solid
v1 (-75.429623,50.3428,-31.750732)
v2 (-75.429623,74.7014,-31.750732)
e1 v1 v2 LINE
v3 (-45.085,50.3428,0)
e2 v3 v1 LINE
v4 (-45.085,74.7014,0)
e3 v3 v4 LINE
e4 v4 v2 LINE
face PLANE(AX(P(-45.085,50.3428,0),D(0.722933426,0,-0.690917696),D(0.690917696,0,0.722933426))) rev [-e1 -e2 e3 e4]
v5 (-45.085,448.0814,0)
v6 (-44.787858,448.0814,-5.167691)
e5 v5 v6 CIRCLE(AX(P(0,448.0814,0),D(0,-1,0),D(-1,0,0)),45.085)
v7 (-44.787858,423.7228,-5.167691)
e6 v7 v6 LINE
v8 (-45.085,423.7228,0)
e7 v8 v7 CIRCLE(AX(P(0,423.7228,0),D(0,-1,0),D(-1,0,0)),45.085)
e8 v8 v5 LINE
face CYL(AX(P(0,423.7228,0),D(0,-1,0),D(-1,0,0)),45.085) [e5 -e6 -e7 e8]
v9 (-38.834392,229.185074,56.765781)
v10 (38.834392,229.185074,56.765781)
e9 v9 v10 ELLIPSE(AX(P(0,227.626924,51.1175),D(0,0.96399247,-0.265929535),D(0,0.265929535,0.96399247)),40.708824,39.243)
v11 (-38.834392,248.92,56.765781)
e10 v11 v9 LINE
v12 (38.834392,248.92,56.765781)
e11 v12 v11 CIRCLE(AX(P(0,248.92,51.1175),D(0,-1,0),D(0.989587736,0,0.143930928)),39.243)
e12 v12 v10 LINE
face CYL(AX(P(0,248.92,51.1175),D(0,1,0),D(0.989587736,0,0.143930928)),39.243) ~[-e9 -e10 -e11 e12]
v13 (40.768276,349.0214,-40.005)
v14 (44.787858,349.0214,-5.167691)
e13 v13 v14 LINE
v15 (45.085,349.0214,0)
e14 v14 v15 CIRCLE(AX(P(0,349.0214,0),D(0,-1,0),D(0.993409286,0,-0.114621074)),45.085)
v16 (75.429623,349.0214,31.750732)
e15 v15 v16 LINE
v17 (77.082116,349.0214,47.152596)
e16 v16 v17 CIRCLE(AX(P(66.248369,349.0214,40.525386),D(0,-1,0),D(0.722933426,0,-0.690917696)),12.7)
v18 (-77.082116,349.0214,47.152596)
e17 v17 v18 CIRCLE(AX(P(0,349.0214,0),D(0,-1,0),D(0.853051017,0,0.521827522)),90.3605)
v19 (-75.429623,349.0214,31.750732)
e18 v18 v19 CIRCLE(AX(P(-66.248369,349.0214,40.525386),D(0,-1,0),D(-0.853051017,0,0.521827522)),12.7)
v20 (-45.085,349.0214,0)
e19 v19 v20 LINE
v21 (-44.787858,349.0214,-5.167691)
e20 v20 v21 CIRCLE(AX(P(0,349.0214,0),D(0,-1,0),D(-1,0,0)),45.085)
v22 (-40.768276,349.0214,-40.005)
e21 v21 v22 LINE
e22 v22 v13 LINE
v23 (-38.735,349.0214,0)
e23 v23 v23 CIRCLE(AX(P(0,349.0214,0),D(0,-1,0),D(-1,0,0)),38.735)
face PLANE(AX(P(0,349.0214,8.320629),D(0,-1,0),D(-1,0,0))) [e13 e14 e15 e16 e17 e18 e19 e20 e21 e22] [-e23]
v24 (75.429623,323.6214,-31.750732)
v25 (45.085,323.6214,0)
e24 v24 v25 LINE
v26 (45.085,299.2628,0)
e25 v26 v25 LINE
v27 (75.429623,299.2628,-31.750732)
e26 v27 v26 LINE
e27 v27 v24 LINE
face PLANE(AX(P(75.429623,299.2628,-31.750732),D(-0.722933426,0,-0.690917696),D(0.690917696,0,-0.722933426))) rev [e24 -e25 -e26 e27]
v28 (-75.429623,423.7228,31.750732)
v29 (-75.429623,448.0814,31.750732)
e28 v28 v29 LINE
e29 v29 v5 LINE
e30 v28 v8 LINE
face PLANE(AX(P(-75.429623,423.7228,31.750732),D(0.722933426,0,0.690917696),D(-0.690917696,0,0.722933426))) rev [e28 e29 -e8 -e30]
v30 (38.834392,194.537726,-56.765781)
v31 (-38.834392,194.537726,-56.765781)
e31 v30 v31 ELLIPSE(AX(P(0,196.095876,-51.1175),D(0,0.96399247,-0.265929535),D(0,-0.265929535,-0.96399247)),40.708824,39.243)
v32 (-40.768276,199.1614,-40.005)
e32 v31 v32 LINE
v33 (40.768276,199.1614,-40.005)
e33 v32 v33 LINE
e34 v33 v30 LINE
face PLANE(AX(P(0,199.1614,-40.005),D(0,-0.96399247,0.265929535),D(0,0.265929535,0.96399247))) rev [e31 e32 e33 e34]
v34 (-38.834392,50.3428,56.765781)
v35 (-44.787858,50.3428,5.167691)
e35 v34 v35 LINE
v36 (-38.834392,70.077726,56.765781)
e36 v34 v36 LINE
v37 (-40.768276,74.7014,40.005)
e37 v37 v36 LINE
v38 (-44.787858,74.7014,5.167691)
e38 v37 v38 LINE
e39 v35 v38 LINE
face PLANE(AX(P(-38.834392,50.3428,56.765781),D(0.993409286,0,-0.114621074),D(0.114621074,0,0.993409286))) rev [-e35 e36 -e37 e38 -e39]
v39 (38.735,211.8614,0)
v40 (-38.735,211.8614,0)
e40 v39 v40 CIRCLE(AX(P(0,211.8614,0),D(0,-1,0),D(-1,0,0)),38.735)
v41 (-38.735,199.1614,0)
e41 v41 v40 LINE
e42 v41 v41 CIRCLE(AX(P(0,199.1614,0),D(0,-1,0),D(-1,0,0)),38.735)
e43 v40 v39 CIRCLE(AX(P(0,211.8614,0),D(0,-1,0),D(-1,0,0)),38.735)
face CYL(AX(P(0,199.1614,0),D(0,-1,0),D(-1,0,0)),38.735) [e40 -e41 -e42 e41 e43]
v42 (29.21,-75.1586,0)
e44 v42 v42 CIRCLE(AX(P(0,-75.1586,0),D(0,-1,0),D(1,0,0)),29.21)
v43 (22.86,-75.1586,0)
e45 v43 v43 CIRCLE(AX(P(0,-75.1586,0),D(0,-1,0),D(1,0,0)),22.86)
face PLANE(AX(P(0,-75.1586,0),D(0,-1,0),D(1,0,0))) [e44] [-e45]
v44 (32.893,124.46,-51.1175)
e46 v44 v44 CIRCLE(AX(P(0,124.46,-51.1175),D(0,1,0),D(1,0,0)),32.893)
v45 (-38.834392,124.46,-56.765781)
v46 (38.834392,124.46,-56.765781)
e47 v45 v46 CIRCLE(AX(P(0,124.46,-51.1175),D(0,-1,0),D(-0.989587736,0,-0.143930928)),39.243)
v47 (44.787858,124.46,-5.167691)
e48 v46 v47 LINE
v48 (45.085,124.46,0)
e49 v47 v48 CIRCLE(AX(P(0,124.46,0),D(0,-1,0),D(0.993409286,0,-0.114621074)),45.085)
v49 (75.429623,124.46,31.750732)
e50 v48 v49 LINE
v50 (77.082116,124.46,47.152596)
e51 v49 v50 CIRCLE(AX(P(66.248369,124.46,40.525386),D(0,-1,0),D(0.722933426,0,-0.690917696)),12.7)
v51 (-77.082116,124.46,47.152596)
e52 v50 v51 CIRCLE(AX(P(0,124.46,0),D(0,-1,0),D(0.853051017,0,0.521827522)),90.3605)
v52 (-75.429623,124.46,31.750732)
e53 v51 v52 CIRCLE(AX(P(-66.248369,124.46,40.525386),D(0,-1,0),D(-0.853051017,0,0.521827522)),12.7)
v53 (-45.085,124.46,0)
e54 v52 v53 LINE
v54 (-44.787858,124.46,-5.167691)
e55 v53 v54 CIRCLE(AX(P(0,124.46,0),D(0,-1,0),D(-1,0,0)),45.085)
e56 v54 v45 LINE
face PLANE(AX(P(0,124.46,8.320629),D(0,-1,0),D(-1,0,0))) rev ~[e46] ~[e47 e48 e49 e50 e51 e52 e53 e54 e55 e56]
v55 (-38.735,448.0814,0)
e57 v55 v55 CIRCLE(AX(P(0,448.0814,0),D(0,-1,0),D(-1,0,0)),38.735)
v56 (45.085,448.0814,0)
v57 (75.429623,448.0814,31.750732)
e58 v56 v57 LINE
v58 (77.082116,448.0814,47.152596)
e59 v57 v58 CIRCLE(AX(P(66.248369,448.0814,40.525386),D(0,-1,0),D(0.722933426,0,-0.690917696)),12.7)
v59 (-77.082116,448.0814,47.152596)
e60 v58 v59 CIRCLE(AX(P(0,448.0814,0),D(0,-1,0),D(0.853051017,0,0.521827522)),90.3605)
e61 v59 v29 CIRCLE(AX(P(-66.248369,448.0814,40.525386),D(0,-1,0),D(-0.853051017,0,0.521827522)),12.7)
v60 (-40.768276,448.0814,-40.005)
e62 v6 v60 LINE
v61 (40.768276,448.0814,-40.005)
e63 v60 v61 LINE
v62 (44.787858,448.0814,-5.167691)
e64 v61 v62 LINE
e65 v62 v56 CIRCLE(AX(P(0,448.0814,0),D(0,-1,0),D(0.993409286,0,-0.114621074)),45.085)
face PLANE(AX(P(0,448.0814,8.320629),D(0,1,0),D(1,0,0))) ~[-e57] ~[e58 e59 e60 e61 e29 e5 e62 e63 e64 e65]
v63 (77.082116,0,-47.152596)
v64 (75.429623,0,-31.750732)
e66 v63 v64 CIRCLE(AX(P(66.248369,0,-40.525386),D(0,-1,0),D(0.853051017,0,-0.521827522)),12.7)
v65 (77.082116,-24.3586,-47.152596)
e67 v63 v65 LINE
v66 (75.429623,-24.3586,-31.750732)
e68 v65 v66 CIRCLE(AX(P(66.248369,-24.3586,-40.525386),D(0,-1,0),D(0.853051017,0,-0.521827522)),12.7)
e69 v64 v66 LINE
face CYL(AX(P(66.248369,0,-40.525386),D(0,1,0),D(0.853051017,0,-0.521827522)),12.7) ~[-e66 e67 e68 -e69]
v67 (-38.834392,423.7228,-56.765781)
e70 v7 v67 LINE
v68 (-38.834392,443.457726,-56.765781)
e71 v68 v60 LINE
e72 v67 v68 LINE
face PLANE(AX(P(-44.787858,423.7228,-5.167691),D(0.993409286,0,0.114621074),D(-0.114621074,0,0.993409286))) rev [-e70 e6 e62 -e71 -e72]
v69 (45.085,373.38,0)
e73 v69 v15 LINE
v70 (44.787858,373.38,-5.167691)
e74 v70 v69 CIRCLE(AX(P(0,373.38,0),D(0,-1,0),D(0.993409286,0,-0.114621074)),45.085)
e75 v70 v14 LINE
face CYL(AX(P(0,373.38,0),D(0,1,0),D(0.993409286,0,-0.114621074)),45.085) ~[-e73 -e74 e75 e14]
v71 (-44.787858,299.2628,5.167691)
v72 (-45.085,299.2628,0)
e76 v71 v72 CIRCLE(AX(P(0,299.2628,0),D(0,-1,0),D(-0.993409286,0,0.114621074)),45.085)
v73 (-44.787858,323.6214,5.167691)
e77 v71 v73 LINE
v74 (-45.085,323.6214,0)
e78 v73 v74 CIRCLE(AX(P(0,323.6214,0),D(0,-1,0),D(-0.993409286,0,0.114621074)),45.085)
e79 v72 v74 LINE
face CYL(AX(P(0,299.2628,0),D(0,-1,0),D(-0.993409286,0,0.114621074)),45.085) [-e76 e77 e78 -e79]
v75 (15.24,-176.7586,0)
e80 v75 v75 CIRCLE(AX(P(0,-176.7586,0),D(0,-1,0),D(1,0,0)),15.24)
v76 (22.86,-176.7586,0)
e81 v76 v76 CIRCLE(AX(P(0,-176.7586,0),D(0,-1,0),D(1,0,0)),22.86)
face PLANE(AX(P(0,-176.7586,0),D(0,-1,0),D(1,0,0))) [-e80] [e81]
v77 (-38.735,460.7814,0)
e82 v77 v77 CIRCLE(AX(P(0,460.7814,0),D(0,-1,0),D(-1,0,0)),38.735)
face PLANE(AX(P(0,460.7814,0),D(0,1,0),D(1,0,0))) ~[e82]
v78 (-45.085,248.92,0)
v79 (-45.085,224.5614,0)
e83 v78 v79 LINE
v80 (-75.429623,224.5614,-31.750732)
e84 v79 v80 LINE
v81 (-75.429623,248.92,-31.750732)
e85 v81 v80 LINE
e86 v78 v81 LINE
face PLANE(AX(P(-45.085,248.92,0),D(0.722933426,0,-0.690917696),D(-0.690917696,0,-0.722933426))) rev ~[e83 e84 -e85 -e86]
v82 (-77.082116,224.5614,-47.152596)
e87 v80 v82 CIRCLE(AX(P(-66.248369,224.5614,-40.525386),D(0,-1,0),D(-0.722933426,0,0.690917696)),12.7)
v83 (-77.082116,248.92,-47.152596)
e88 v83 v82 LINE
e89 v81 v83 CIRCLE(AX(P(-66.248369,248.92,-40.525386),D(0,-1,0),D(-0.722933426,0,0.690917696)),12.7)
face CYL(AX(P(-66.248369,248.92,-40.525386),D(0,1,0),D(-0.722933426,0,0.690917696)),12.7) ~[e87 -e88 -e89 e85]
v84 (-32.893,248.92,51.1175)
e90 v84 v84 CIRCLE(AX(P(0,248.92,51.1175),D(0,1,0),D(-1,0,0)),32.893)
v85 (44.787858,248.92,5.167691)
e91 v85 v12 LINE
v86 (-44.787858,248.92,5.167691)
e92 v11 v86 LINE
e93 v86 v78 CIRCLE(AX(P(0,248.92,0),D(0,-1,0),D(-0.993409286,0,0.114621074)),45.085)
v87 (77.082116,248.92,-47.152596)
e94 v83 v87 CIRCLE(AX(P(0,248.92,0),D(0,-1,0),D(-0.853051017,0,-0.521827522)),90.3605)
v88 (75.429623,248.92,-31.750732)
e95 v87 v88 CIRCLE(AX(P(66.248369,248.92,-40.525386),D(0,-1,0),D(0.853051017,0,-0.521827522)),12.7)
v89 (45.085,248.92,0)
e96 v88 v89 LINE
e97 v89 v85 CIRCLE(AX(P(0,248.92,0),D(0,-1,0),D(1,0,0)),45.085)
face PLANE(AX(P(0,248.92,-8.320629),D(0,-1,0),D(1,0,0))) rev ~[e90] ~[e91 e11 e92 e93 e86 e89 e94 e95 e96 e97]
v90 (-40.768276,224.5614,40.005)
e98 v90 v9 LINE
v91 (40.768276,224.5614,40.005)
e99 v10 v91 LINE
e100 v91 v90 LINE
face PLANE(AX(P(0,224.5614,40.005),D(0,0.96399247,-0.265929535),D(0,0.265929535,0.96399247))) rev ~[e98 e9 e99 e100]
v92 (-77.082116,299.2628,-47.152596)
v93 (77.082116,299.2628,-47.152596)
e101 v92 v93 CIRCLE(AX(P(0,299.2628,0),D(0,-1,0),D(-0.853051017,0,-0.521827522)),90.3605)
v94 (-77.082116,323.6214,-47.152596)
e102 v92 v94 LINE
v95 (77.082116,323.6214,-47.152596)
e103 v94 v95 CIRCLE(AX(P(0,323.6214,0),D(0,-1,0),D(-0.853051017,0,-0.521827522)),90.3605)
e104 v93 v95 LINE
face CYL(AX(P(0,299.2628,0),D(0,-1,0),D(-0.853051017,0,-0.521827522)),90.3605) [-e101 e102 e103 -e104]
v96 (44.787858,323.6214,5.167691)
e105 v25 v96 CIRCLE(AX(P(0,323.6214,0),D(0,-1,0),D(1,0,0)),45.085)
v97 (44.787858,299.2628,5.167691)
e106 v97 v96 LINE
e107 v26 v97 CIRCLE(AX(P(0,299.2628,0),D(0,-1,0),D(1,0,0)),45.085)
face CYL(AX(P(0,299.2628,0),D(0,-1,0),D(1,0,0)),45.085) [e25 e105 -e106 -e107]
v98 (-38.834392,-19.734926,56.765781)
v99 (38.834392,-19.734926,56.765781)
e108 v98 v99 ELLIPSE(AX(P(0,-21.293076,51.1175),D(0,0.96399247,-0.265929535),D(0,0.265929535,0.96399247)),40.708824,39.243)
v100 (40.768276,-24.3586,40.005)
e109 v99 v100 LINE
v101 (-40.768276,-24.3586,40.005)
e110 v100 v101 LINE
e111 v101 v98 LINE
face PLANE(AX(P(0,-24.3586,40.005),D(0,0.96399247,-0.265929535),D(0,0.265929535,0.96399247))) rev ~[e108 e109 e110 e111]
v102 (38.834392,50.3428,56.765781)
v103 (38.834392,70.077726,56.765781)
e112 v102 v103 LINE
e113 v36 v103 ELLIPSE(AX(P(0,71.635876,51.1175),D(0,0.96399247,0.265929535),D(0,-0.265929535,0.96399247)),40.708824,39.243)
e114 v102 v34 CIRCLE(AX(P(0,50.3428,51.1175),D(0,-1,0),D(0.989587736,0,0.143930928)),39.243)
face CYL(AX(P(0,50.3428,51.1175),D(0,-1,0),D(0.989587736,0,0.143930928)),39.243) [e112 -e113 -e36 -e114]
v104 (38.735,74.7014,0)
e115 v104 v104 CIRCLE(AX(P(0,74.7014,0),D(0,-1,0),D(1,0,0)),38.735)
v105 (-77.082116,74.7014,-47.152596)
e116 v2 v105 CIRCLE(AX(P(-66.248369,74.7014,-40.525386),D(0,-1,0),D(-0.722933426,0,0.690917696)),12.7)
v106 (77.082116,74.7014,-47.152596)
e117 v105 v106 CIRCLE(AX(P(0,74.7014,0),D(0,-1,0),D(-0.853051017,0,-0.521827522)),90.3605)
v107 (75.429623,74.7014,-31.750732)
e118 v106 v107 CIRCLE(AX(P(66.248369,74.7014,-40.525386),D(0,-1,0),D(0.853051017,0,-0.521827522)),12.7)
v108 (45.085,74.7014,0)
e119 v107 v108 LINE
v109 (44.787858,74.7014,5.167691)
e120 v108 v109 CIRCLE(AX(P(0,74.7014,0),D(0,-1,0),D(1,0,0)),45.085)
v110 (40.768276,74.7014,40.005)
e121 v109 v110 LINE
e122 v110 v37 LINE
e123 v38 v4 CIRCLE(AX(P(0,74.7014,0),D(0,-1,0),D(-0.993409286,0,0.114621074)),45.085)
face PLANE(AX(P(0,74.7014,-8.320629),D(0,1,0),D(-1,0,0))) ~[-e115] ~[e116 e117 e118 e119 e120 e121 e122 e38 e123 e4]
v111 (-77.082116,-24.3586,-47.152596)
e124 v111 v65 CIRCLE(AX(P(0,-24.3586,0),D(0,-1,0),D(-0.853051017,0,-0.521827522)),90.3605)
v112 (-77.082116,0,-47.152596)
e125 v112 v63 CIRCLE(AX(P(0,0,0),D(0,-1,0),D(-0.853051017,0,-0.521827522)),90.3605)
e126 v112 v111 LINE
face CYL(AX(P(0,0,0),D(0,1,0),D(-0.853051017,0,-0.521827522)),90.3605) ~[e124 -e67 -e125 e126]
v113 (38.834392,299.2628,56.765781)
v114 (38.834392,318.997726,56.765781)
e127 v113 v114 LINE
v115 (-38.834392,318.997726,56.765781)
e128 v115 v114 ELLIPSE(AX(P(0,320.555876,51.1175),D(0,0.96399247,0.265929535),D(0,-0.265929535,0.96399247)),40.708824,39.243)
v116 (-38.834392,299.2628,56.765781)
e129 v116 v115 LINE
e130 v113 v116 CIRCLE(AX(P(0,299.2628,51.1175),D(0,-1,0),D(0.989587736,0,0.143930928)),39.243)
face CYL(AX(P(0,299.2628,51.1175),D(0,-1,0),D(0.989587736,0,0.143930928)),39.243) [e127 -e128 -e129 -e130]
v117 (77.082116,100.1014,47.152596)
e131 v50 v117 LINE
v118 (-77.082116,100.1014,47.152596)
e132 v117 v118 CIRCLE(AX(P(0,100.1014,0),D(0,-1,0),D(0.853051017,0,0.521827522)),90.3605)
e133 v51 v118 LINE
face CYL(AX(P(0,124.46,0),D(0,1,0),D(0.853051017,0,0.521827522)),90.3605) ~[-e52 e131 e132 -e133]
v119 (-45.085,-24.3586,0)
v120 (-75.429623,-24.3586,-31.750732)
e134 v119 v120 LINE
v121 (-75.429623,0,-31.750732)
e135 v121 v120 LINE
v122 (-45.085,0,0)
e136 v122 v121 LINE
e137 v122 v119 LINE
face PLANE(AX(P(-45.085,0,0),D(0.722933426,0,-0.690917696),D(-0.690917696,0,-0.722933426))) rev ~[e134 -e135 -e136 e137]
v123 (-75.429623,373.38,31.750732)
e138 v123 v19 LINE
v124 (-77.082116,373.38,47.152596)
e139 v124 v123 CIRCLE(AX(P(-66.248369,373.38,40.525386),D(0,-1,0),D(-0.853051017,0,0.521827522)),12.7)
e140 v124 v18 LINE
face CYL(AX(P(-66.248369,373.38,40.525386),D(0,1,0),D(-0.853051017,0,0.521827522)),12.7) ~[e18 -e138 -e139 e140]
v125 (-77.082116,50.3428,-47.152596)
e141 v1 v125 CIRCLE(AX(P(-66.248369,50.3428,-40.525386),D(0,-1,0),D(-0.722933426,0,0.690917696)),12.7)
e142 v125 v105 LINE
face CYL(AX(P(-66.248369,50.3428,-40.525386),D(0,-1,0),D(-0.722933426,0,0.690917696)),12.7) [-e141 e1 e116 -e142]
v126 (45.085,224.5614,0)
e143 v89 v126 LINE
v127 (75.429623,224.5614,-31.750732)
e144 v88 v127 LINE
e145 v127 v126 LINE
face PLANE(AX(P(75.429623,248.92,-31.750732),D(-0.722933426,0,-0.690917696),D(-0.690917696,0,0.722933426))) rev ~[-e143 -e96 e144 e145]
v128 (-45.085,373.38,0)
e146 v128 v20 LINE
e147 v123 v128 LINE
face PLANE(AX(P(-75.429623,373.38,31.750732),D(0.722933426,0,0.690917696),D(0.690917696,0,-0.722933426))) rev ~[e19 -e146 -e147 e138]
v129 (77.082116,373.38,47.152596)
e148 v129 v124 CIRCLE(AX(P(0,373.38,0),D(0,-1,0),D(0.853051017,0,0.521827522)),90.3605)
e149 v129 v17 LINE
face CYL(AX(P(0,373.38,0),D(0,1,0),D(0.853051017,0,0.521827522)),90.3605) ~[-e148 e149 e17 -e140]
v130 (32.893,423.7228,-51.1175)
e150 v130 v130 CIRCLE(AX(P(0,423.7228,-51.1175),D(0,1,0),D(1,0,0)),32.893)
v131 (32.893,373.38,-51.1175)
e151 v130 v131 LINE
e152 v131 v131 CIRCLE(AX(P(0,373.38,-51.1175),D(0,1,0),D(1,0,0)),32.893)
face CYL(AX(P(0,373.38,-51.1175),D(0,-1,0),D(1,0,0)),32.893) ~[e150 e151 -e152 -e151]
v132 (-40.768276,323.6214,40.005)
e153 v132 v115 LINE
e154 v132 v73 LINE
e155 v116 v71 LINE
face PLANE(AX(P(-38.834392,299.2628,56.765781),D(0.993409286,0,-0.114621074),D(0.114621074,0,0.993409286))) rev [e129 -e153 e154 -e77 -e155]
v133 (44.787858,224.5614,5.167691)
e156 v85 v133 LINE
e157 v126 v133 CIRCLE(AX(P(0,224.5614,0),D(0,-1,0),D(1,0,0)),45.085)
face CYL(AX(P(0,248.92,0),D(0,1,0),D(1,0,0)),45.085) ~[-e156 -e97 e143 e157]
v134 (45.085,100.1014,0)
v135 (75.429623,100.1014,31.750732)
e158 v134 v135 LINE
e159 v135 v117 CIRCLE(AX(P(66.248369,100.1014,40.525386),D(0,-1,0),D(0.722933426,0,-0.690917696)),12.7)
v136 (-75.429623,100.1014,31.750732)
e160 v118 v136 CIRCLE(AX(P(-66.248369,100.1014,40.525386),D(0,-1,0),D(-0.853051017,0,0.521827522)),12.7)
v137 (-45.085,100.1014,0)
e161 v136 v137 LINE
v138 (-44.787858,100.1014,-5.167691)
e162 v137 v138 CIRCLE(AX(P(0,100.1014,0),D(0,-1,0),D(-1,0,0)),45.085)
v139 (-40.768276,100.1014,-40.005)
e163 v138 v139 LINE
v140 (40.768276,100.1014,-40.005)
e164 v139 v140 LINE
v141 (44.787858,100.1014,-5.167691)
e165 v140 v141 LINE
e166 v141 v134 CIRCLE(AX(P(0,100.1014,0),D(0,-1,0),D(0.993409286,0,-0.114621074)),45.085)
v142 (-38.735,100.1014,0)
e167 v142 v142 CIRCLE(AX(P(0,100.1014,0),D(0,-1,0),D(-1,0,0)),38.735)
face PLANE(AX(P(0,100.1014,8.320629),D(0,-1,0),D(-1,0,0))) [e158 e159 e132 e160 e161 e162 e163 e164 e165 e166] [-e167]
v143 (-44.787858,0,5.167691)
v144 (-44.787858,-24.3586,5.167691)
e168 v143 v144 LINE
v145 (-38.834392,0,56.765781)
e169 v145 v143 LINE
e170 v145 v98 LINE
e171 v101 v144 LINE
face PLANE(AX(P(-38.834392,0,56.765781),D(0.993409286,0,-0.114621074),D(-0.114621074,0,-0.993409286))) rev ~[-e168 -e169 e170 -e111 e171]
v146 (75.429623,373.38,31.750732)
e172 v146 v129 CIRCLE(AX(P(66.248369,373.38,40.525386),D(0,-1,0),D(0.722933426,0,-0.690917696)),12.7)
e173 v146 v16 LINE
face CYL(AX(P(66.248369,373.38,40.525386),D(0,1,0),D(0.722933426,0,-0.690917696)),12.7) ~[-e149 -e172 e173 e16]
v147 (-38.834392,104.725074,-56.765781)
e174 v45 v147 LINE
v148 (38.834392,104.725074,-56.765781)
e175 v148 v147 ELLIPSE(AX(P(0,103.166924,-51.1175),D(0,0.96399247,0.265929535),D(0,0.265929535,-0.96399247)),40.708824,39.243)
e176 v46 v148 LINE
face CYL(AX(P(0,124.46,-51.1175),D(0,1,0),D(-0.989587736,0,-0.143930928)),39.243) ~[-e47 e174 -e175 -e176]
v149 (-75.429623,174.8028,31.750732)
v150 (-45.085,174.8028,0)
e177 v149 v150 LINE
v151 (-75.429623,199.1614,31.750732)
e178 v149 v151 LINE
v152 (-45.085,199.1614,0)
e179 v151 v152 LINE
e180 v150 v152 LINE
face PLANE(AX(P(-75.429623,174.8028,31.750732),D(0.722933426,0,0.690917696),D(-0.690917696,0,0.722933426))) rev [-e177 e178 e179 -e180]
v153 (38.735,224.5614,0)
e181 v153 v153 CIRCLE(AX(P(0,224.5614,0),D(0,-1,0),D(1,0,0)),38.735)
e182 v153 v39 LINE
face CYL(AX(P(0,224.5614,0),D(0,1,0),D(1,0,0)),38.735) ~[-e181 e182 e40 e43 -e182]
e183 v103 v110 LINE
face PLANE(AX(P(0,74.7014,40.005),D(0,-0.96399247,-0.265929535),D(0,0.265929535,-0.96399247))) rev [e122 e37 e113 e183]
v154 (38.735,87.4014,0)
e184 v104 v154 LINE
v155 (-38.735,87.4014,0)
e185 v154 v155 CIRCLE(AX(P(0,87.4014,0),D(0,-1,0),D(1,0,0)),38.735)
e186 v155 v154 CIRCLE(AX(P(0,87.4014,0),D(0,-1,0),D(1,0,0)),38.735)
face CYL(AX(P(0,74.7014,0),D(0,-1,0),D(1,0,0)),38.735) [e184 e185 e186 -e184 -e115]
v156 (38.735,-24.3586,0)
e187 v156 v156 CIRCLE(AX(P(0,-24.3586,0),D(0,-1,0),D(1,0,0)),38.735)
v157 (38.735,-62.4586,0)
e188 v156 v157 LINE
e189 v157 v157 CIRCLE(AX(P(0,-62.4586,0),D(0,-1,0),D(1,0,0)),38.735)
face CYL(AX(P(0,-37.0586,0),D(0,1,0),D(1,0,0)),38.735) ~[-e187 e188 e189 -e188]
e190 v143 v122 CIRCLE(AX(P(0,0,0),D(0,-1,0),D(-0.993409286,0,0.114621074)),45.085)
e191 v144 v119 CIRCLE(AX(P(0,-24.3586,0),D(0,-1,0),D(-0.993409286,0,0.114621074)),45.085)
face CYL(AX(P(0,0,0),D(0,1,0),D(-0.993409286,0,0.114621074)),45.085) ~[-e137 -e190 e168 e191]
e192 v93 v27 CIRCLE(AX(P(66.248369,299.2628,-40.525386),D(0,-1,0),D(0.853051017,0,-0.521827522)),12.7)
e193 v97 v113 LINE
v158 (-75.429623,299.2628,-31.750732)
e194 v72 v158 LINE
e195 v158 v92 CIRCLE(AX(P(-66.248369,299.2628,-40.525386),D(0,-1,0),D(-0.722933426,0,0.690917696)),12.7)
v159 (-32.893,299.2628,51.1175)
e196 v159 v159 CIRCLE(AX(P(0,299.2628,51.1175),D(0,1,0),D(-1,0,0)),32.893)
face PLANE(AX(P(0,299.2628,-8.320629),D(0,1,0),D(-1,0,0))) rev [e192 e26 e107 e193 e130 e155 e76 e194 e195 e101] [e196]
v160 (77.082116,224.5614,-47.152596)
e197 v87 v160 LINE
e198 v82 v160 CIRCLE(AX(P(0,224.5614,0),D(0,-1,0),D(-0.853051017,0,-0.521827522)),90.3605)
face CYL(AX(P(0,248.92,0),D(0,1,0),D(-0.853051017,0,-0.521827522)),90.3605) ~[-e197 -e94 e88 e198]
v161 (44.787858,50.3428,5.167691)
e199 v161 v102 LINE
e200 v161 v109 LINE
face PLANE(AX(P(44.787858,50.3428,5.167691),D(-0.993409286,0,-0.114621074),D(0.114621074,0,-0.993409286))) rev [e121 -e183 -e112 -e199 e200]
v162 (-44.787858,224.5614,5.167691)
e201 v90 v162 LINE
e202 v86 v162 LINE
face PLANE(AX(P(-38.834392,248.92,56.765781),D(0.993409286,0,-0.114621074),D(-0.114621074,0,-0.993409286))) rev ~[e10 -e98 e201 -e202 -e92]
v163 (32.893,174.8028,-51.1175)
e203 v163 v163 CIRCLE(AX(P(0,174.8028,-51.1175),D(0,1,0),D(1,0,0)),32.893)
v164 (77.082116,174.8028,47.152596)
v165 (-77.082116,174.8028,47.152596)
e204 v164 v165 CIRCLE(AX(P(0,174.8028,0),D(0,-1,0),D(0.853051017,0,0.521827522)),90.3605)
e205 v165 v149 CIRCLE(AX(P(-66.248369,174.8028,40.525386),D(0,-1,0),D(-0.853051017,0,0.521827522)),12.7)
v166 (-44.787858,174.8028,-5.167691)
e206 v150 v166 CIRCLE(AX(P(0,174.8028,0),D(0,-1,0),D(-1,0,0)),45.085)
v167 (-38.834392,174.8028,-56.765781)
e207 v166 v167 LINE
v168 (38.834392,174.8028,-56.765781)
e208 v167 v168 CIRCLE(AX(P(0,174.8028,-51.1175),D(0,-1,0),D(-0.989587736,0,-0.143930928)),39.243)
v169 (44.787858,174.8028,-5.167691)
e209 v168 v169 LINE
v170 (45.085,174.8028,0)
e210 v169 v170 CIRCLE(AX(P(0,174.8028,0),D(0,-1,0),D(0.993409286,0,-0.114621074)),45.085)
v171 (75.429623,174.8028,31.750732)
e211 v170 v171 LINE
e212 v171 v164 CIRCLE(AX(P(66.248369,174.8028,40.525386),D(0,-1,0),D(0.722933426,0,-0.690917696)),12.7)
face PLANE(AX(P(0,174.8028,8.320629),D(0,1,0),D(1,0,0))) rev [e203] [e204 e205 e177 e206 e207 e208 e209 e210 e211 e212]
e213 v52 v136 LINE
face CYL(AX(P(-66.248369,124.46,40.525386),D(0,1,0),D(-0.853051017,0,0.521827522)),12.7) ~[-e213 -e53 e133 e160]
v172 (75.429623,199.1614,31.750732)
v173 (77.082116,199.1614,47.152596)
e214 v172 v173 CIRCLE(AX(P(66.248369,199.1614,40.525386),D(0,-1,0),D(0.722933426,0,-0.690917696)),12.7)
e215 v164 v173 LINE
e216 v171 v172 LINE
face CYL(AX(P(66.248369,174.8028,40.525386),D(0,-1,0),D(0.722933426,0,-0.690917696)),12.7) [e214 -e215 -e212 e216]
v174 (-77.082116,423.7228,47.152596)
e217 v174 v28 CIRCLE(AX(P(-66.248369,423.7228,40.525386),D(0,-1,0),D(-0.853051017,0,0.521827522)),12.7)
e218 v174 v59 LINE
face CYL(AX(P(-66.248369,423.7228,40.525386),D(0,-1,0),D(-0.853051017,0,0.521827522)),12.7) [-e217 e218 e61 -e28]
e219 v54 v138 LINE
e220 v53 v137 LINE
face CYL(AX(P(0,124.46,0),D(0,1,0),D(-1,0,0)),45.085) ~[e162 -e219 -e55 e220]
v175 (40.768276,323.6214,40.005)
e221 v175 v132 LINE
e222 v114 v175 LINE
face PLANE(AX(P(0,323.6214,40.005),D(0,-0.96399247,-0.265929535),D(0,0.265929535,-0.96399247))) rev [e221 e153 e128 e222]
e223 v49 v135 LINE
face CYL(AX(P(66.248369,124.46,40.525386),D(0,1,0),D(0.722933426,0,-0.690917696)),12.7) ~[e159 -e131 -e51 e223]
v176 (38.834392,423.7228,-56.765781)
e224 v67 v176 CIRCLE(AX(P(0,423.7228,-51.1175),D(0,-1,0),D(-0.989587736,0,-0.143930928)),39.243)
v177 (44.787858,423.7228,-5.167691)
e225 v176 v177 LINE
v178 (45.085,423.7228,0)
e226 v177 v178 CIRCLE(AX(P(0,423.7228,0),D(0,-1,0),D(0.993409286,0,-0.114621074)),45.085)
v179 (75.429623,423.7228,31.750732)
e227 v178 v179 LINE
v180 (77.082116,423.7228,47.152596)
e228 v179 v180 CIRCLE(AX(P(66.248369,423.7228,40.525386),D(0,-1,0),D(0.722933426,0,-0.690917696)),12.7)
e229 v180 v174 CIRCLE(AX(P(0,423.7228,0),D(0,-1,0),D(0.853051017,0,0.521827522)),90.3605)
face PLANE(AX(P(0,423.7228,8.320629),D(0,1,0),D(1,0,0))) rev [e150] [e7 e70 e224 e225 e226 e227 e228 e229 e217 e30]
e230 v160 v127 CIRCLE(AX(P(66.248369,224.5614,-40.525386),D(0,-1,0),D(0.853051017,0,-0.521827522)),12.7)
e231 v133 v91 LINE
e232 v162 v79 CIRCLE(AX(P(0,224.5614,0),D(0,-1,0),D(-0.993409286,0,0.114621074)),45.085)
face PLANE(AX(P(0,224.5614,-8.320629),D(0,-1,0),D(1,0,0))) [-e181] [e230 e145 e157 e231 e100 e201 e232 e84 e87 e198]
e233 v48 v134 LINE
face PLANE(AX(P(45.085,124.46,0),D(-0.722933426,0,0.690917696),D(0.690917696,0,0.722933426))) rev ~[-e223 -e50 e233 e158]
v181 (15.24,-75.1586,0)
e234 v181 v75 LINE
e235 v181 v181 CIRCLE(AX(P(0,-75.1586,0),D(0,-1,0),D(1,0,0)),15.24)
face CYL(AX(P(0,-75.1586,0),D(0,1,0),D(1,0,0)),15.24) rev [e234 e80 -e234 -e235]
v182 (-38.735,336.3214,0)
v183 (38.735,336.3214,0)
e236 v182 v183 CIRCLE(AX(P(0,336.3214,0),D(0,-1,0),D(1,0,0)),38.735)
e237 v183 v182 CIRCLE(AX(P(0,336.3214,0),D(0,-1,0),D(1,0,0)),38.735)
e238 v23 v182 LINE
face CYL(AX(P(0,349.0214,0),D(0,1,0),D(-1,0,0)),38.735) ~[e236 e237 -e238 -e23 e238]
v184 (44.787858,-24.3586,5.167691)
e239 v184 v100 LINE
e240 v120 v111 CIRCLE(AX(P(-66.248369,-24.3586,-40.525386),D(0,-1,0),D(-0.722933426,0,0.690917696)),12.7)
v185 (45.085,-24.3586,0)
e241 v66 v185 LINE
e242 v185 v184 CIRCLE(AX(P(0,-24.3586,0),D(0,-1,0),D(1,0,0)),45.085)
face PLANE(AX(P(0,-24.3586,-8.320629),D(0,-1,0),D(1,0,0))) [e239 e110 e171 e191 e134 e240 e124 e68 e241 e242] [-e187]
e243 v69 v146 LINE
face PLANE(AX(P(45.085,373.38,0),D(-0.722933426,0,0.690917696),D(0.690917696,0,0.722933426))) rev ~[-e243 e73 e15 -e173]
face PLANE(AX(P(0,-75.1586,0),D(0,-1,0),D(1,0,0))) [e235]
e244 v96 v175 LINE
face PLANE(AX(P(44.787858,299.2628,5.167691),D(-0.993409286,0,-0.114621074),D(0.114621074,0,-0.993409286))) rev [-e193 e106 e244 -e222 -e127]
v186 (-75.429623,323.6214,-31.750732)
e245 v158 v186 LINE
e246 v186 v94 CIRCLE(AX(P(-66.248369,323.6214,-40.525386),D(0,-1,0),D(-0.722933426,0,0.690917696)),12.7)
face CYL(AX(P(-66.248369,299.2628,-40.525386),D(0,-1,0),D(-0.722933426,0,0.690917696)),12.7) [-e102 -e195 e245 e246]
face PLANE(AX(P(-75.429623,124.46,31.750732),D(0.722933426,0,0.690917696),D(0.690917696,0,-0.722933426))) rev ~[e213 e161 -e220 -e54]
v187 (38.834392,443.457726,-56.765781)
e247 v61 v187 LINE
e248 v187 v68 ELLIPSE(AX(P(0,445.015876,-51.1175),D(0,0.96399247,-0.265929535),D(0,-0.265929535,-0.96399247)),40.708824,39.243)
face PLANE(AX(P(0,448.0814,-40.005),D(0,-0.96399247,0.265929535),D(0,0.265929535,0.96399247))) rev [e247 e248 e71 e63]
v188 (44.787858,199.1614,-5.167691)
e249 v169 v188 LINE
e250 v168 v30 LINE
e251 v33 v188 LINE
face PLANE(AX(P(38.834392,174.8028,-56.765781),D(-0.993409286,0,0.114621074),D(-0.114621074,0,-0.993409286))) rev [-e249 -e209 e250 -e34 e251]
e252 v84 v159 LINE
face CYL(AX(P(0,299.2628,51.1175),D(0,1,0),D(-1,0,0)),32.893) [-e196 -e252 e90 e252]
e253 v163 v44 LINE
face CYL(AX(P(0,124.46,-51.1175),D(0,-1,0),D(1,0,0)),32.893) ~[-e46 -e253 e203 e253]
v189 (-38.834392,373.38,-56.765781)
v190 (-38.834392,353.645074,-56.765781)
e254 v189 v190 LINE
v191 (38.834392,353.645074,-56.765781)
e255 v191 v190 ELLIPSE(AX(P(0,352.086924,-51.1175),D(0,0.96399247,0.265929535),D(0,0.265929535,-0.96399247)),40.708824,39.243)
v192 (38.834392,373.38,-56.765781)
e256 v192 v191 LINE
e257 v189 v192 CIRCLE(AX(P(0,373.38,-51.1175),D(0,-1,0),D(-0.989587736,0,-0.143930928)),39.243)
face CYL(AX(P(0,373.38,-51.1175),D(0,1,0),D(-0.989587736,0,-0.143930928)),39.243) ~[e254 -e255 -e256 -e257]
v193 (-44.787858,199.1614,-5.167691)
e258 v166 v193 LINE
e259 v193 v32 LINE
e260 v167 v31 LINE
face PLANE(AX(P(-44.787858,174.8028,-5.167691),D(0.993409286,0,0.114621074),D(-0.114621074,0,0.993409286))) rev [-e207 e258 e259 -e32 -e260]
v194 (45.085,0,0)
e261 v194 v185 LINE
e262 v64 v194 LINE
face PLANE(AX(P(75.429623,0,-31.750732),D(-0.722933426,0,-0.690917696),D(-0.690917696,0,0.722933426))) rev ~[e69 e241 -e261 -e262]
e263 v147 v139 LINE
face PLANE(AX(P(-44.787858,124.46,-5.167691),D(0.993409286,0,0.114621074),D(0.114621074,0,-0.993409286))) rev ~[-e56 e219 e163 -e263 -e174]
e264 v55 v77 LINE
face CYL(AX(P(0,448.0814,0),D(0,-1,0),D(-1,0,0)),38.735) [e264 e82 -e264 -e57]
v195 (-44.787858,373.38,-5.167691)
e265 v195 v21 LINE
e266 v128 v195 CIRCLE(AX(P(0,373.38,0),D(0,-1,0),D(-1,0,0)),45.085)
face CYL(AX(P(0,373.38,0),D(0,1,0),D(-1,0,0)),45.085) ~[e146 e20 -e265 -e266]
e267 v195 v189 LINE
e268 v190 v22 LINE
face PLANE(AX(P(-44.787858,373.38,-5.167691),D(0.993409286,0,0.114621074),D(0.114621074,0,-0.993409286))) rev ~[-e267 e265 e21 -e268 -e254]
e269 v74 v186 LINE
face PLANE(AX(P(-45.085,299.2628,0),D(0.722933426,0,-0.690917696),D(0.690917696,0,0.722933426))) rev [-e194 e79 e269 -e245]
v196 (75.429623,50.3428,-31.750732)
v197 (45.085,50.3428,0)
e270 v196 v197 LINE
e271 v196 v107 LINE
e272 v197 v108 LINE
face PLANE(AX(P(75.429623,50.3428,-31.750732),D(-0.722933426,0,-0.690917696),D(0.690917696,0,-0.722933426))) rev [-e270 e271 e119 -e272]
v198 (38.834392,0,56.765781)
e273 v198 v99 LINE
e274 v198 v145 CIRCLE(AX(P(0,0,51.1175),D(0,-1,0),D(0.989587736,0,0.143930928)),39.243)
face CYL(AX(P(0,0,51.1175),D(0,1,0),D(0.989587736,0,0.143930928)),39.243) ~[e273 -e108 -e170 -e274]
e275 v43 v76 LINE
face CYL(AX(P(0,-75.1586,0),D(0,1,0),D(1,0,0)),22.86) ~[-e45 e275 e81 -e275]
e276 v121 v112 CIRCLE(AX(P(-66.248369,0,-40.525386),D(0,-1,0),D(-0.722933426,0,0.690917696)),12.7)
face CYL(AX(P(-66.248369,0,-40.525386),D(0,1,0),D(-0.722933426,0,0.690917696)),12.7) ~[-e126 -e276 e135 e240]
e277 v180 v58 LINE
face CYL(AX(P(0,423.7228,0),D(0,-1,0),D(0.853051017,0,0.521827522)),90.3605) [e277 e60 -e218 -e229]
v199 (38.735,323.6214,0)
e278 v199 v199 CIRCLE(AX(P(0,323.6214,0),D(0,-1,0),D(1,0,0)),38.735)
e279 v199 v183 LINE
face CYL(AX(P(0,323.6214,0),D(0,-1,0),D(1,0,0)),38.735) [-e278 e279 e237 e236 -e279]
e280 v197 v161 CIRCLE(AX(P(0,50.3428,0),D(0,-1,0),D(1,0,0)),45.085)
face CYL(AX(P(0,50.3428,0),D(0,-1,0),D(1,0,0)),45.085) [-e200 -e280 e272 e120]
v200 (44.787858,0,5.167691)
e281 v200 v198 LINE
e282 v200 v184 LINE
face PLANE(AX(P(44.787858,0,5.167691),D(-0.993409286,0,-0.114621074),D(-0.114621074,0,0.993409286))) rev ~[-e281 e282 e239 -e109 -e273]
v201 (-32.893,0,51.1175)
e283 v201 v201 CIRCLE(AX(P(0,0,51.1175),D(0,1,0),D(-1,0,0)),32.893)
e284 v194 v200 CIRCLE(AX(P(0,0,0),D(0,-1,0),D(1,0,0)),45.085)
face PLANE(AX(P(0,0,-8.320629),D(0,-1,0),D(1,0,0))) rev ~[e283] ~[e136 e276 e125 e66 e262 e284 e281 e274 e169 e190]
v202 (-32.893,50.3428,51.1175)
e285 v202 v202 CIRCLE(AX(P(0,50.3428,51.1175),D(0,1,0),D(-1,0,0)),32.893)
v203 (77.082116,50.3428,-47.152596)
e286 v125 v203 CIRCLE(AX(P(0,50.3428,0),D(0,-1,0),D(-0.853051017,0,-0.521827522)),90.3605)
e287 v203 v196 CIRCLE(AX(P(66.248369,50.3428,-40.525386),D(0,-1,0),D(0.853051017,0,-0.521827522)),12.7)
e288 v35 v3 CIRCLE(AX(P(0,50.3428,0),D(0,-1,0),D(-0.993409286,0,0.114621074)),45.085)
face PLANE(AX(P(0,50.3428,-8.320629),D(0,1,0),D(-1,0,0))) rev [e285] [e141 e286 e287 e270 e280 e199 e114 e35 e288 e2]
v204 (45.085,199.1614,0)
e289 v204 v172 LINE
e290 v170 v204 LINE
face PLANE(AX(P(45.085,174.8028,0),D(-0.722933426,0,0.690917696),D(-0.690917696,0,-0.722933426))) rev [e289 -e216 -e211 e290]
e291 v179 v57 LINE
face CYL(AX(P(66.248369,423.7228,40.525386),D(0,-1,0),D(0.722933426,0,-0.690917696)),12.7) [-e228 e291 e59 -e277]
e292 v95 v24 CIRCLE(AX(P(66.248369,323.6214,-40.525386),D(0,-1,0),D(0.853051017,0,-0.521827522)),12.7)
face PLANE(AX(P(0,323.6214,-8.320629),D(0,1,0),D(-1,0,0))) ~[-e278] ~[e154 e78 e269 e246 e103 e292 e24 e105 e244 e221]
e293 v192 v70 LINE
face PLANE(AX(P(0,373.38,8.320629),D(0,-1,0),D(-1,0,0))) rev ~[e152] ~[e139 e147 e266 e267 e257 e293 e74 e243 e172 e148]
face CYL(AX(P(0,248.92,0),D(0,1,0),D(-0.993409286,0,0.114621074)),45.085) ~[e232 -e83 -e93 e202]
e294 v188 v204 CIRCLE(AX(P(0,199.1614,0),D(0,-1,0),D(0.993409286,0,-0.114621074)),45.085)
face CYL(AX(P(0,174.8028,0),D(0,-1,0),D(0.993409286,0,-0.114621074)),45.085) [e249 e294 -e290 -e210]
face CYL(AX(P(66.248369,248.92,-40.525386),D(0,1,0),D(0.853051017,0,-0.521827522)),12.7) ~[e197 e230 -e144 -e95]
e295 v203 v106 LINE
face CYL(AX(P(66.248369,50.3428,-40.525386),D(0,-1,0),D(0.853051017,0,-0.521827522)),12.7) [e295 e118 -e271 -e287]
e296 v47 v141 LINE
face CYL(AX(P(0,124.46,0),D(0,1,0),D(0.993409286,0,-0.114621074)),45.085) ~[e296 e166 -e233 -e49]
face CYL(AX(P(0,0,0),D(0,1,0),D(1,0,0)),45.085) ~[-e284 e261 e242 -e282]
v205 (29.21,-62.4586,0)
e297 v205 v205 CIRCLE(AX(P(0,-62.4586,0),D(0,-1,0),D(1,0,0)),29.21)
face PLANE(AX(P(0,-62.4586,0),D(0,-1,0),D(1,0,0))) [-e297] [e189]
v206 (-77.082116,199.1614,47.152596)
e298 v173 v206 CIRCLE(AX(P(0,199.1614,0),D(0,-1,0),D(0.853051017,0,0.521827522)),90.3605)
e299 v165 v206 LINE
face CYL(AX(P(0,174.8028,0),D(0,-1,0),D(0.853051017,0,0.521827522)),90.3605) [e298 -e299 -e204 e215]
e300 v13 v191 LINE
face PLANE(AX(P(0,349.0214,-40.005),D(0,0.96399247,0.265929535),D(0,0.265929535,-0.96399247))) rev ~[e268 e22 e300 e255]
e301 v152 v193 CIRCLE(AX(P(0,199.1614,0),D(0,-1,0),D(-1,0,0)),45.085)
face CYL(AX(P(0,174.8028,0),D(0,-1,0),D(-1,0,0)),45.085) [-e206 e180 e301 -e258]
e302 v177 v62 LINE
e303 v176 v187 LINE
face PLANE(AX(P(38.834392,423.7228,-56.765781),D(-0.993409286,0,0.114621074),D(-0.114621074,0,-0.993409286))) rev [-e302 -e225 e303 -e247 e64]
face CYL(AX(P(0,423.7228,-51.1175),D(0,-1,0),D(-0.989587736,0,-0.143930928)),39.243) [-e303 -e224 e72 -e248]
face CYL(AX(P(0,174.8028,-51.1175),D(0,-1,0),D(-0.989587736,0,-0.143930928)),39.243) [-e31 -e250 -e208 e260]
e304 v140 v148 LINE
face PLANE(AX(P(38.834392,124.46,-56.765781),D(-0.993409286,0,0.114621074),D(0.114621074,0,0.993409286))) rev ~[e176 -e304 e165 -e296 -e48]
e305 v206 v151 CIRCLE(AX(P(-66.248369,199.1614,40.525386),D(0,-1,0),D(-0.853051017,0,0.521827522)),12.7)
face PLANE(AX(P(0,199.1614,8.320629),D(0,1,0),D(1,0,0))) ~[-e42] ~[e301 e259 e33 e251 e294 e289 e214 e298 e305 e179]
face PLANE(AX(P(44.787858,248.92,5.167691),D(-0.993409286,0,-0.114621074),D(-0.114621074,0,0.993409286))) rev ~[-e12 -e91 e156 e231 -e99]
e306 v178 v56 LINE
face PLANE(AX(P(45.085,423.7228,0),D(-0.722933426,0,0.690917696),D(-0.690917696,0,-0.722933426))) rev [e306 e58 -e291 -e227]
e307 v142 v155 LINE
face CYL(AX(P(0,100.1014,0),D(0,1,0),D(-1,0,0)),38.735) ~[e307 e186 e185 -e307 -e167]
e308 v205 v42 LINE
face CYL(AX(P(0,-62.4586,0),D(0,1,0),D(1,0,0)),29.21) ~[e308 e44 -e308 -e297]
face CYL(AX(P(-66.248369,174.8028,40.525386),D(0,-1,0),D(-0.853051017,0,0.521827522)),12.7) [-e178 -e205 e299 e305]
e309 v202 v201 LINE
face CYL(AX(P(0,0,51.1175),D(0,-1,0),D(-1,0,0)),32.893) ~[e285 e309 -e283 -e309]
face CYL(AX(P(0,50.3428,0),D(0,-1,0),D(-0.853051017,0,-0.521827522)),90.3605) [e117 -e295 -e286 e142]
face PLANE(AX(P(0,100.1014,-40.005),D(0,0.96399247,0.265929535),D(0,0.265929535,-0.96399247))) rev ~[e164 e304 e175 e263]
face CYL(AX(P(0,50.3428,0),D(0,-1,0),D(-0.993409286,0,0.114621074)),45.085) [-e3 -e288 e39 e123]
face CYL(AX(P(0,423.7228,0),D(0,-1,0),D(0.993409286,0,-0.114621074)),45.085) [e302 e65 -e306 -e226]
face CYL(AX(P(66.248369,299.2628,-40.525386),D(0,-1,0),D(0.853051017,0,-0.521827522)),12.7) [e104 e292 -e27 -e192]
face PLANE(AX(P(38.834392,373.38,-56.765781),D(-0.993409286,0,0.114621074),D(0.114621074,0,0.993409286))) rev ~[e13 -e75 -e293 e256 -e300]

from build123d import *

# Parameters (mm, degrees)
F1_DEPTH  = 24.3586
F2_R      = 38.735
F3_DEPTH  = 12.7
F4_R      = 32.893
F5_DEPTH  = 25.1714
F7_DEPTH  = 100.584
F11_ANGLE = 180
F12_ANGLE = 180
F13_DEPTH = 25.4
F14_R     = 29.21
F15_DEPTH = 12.7
F16_R     = 22.86
F16_R_2   = 15.24
F17_DEPTH = 101.6


with BuildPart() as f1:
    # F0 (on Front) → F1 (new body)
    with BuildSketch(Plane.XZ):
        with BuildLine():
            Line((-38.8343915367, 56.765781418), (-44.7878576566, 5.1676911222))
            ThreePointArc((-44.7878576566, 5.1676911222), (-45.0106531137, 2.588113459), (-45.085, 0))
            Line((-45.085, 0), (-75.4296230072, -31.7507315176))
            ThreePointArc((-75.4296230072, -31.7507315176), (-78.8758954242, -39.1705564298), (-77.0821164183, -47.1525957793))
            ThreePointArc((-77.0821164183, -47.1525957793), (0, -90.3605), (77.0821164183, -47.1525957793))
            ThreePointArc((77.0821164183, -47.1525957793), (78.8758954242, -39.1705564298), (75.4296230072, -31.7507315176))
            Line((75.4296230072, -31.7507315176), (45.085, 0))
            ThreePointArc((45.085, 0), (45.0106531137, 2.588113459), (44.7878576566, 5.1676911222))
            Line((44.7878576566, 5.1676911222), (38.8343915367, 56.765781418))
            ThreePointArc((38.8343915367, 56.765781418), (0, 90.3605), (-38.8343915367, 56.765781418))
        make_face()
    extrude(amount=F1_DEPTH)

    # F2 (on face) → F3 (join)
    with BuildSketch(Plane.XZ.offset(24.3586)):
        Circle(F2_R)
    extrude(amount=F3_DEPTH)

    # F4 (on face) → F5 (join)
    with BuildSketch(Plane(origin=(0, 0, 0), x_dir=(-1, 0, 0), z_dir=(0, 1, 0))):
        with Locations((0, 51.1175)):
            Circle(F4_R)
    extrude(amount=F5_DEPTH)

    # F6 (on Right) → F7 (cut, symmetric)
    with BuildSketch(Plane.YZ):
        Polygon((-9.2324605212, 94.8371365666), (-19.2786, 95.6272567787), (-70.8548203111, 97.9044958949), (-24.3586, 40.005), align=None)
    extrude(amount=F7_DEPTH, both=True, mode=Mode.SUBTRACT)

    # F8: F1 across face


with BuildPart() as f1_1:
    add(f1.part)
    add(f1.part.mirror(Plane(origin=(0, 25.1714, 51.1175), x_dir=(-1, 0, 0), z_dir=(0, 1, 0))))


with BuildPart() as f9_1:
    # F9: instance of F1
    add(f1_1.part.mirror(Plane(origin=(0, 87.4014, 0), x_dir=(-1, 0, 0), z_dir=(0, 1, 0))))


with BuildPart() as f10_1:
    # F10: instance of F9_1
    add(f9_1.part.mirror(Plane(origin=(0, 211.8614, 0), x_dir=(-1, 0, 0), z_dir=(0, 1, 0))))


with BuildPart() as f10_2:
    # F10: instance of F1
    add(f1_1.part.mirror(Plane(origin=(0, 211.8614, 0), x_dir=(-1, 0, 0), z_dir=(0, 1, 0))))


with BuildPart() as f9_1_1:
    # F11: moved
    add(f9_1.part.rotate(Axis((0, -37.0586, 0), (0, -1, 0)), F11_ANGLE))


with BuildPart() as f10_2_1:
    # F12: moved
    add(f10_2.part.rotate(Axis((0, -37.0586, 0), (0, -1, 0)), F12_ANGLE))


with BuildPart() as f1_2:
    add(f1_1.part)

    # F13 (add): a face of the model
    f13_faces = [f1_2.faces().sort_by_distance(p)[0] for p in [
        (0, -37.0586, 0),
    ]]
    extrude(f13_faces, amount=F13_DEPTH)

    # F14 (on face) → F15 (join)
    with BuildSketch(Plane.XZ.offset(62.4586)):
        Circle(F14_R)
    extrude(amount=F15_DEPTH)

    add(f9_1_1.part)  # F17 merges F9_1

    add(f10_1.part)  # F17 merges F10_1

    add(f10_2_1.part)  # F17 merges F10_2
    # F16 (on face) → F17 (join)
    with BuildSketch(Plane.XZ.offset(75.1586)):
        Circle(F16_R)
        Circle(F16_R_2, mode=Mode.SUBTRACT)
    extrude(amount=F17_DEPTH)


solid = f1_2.part
